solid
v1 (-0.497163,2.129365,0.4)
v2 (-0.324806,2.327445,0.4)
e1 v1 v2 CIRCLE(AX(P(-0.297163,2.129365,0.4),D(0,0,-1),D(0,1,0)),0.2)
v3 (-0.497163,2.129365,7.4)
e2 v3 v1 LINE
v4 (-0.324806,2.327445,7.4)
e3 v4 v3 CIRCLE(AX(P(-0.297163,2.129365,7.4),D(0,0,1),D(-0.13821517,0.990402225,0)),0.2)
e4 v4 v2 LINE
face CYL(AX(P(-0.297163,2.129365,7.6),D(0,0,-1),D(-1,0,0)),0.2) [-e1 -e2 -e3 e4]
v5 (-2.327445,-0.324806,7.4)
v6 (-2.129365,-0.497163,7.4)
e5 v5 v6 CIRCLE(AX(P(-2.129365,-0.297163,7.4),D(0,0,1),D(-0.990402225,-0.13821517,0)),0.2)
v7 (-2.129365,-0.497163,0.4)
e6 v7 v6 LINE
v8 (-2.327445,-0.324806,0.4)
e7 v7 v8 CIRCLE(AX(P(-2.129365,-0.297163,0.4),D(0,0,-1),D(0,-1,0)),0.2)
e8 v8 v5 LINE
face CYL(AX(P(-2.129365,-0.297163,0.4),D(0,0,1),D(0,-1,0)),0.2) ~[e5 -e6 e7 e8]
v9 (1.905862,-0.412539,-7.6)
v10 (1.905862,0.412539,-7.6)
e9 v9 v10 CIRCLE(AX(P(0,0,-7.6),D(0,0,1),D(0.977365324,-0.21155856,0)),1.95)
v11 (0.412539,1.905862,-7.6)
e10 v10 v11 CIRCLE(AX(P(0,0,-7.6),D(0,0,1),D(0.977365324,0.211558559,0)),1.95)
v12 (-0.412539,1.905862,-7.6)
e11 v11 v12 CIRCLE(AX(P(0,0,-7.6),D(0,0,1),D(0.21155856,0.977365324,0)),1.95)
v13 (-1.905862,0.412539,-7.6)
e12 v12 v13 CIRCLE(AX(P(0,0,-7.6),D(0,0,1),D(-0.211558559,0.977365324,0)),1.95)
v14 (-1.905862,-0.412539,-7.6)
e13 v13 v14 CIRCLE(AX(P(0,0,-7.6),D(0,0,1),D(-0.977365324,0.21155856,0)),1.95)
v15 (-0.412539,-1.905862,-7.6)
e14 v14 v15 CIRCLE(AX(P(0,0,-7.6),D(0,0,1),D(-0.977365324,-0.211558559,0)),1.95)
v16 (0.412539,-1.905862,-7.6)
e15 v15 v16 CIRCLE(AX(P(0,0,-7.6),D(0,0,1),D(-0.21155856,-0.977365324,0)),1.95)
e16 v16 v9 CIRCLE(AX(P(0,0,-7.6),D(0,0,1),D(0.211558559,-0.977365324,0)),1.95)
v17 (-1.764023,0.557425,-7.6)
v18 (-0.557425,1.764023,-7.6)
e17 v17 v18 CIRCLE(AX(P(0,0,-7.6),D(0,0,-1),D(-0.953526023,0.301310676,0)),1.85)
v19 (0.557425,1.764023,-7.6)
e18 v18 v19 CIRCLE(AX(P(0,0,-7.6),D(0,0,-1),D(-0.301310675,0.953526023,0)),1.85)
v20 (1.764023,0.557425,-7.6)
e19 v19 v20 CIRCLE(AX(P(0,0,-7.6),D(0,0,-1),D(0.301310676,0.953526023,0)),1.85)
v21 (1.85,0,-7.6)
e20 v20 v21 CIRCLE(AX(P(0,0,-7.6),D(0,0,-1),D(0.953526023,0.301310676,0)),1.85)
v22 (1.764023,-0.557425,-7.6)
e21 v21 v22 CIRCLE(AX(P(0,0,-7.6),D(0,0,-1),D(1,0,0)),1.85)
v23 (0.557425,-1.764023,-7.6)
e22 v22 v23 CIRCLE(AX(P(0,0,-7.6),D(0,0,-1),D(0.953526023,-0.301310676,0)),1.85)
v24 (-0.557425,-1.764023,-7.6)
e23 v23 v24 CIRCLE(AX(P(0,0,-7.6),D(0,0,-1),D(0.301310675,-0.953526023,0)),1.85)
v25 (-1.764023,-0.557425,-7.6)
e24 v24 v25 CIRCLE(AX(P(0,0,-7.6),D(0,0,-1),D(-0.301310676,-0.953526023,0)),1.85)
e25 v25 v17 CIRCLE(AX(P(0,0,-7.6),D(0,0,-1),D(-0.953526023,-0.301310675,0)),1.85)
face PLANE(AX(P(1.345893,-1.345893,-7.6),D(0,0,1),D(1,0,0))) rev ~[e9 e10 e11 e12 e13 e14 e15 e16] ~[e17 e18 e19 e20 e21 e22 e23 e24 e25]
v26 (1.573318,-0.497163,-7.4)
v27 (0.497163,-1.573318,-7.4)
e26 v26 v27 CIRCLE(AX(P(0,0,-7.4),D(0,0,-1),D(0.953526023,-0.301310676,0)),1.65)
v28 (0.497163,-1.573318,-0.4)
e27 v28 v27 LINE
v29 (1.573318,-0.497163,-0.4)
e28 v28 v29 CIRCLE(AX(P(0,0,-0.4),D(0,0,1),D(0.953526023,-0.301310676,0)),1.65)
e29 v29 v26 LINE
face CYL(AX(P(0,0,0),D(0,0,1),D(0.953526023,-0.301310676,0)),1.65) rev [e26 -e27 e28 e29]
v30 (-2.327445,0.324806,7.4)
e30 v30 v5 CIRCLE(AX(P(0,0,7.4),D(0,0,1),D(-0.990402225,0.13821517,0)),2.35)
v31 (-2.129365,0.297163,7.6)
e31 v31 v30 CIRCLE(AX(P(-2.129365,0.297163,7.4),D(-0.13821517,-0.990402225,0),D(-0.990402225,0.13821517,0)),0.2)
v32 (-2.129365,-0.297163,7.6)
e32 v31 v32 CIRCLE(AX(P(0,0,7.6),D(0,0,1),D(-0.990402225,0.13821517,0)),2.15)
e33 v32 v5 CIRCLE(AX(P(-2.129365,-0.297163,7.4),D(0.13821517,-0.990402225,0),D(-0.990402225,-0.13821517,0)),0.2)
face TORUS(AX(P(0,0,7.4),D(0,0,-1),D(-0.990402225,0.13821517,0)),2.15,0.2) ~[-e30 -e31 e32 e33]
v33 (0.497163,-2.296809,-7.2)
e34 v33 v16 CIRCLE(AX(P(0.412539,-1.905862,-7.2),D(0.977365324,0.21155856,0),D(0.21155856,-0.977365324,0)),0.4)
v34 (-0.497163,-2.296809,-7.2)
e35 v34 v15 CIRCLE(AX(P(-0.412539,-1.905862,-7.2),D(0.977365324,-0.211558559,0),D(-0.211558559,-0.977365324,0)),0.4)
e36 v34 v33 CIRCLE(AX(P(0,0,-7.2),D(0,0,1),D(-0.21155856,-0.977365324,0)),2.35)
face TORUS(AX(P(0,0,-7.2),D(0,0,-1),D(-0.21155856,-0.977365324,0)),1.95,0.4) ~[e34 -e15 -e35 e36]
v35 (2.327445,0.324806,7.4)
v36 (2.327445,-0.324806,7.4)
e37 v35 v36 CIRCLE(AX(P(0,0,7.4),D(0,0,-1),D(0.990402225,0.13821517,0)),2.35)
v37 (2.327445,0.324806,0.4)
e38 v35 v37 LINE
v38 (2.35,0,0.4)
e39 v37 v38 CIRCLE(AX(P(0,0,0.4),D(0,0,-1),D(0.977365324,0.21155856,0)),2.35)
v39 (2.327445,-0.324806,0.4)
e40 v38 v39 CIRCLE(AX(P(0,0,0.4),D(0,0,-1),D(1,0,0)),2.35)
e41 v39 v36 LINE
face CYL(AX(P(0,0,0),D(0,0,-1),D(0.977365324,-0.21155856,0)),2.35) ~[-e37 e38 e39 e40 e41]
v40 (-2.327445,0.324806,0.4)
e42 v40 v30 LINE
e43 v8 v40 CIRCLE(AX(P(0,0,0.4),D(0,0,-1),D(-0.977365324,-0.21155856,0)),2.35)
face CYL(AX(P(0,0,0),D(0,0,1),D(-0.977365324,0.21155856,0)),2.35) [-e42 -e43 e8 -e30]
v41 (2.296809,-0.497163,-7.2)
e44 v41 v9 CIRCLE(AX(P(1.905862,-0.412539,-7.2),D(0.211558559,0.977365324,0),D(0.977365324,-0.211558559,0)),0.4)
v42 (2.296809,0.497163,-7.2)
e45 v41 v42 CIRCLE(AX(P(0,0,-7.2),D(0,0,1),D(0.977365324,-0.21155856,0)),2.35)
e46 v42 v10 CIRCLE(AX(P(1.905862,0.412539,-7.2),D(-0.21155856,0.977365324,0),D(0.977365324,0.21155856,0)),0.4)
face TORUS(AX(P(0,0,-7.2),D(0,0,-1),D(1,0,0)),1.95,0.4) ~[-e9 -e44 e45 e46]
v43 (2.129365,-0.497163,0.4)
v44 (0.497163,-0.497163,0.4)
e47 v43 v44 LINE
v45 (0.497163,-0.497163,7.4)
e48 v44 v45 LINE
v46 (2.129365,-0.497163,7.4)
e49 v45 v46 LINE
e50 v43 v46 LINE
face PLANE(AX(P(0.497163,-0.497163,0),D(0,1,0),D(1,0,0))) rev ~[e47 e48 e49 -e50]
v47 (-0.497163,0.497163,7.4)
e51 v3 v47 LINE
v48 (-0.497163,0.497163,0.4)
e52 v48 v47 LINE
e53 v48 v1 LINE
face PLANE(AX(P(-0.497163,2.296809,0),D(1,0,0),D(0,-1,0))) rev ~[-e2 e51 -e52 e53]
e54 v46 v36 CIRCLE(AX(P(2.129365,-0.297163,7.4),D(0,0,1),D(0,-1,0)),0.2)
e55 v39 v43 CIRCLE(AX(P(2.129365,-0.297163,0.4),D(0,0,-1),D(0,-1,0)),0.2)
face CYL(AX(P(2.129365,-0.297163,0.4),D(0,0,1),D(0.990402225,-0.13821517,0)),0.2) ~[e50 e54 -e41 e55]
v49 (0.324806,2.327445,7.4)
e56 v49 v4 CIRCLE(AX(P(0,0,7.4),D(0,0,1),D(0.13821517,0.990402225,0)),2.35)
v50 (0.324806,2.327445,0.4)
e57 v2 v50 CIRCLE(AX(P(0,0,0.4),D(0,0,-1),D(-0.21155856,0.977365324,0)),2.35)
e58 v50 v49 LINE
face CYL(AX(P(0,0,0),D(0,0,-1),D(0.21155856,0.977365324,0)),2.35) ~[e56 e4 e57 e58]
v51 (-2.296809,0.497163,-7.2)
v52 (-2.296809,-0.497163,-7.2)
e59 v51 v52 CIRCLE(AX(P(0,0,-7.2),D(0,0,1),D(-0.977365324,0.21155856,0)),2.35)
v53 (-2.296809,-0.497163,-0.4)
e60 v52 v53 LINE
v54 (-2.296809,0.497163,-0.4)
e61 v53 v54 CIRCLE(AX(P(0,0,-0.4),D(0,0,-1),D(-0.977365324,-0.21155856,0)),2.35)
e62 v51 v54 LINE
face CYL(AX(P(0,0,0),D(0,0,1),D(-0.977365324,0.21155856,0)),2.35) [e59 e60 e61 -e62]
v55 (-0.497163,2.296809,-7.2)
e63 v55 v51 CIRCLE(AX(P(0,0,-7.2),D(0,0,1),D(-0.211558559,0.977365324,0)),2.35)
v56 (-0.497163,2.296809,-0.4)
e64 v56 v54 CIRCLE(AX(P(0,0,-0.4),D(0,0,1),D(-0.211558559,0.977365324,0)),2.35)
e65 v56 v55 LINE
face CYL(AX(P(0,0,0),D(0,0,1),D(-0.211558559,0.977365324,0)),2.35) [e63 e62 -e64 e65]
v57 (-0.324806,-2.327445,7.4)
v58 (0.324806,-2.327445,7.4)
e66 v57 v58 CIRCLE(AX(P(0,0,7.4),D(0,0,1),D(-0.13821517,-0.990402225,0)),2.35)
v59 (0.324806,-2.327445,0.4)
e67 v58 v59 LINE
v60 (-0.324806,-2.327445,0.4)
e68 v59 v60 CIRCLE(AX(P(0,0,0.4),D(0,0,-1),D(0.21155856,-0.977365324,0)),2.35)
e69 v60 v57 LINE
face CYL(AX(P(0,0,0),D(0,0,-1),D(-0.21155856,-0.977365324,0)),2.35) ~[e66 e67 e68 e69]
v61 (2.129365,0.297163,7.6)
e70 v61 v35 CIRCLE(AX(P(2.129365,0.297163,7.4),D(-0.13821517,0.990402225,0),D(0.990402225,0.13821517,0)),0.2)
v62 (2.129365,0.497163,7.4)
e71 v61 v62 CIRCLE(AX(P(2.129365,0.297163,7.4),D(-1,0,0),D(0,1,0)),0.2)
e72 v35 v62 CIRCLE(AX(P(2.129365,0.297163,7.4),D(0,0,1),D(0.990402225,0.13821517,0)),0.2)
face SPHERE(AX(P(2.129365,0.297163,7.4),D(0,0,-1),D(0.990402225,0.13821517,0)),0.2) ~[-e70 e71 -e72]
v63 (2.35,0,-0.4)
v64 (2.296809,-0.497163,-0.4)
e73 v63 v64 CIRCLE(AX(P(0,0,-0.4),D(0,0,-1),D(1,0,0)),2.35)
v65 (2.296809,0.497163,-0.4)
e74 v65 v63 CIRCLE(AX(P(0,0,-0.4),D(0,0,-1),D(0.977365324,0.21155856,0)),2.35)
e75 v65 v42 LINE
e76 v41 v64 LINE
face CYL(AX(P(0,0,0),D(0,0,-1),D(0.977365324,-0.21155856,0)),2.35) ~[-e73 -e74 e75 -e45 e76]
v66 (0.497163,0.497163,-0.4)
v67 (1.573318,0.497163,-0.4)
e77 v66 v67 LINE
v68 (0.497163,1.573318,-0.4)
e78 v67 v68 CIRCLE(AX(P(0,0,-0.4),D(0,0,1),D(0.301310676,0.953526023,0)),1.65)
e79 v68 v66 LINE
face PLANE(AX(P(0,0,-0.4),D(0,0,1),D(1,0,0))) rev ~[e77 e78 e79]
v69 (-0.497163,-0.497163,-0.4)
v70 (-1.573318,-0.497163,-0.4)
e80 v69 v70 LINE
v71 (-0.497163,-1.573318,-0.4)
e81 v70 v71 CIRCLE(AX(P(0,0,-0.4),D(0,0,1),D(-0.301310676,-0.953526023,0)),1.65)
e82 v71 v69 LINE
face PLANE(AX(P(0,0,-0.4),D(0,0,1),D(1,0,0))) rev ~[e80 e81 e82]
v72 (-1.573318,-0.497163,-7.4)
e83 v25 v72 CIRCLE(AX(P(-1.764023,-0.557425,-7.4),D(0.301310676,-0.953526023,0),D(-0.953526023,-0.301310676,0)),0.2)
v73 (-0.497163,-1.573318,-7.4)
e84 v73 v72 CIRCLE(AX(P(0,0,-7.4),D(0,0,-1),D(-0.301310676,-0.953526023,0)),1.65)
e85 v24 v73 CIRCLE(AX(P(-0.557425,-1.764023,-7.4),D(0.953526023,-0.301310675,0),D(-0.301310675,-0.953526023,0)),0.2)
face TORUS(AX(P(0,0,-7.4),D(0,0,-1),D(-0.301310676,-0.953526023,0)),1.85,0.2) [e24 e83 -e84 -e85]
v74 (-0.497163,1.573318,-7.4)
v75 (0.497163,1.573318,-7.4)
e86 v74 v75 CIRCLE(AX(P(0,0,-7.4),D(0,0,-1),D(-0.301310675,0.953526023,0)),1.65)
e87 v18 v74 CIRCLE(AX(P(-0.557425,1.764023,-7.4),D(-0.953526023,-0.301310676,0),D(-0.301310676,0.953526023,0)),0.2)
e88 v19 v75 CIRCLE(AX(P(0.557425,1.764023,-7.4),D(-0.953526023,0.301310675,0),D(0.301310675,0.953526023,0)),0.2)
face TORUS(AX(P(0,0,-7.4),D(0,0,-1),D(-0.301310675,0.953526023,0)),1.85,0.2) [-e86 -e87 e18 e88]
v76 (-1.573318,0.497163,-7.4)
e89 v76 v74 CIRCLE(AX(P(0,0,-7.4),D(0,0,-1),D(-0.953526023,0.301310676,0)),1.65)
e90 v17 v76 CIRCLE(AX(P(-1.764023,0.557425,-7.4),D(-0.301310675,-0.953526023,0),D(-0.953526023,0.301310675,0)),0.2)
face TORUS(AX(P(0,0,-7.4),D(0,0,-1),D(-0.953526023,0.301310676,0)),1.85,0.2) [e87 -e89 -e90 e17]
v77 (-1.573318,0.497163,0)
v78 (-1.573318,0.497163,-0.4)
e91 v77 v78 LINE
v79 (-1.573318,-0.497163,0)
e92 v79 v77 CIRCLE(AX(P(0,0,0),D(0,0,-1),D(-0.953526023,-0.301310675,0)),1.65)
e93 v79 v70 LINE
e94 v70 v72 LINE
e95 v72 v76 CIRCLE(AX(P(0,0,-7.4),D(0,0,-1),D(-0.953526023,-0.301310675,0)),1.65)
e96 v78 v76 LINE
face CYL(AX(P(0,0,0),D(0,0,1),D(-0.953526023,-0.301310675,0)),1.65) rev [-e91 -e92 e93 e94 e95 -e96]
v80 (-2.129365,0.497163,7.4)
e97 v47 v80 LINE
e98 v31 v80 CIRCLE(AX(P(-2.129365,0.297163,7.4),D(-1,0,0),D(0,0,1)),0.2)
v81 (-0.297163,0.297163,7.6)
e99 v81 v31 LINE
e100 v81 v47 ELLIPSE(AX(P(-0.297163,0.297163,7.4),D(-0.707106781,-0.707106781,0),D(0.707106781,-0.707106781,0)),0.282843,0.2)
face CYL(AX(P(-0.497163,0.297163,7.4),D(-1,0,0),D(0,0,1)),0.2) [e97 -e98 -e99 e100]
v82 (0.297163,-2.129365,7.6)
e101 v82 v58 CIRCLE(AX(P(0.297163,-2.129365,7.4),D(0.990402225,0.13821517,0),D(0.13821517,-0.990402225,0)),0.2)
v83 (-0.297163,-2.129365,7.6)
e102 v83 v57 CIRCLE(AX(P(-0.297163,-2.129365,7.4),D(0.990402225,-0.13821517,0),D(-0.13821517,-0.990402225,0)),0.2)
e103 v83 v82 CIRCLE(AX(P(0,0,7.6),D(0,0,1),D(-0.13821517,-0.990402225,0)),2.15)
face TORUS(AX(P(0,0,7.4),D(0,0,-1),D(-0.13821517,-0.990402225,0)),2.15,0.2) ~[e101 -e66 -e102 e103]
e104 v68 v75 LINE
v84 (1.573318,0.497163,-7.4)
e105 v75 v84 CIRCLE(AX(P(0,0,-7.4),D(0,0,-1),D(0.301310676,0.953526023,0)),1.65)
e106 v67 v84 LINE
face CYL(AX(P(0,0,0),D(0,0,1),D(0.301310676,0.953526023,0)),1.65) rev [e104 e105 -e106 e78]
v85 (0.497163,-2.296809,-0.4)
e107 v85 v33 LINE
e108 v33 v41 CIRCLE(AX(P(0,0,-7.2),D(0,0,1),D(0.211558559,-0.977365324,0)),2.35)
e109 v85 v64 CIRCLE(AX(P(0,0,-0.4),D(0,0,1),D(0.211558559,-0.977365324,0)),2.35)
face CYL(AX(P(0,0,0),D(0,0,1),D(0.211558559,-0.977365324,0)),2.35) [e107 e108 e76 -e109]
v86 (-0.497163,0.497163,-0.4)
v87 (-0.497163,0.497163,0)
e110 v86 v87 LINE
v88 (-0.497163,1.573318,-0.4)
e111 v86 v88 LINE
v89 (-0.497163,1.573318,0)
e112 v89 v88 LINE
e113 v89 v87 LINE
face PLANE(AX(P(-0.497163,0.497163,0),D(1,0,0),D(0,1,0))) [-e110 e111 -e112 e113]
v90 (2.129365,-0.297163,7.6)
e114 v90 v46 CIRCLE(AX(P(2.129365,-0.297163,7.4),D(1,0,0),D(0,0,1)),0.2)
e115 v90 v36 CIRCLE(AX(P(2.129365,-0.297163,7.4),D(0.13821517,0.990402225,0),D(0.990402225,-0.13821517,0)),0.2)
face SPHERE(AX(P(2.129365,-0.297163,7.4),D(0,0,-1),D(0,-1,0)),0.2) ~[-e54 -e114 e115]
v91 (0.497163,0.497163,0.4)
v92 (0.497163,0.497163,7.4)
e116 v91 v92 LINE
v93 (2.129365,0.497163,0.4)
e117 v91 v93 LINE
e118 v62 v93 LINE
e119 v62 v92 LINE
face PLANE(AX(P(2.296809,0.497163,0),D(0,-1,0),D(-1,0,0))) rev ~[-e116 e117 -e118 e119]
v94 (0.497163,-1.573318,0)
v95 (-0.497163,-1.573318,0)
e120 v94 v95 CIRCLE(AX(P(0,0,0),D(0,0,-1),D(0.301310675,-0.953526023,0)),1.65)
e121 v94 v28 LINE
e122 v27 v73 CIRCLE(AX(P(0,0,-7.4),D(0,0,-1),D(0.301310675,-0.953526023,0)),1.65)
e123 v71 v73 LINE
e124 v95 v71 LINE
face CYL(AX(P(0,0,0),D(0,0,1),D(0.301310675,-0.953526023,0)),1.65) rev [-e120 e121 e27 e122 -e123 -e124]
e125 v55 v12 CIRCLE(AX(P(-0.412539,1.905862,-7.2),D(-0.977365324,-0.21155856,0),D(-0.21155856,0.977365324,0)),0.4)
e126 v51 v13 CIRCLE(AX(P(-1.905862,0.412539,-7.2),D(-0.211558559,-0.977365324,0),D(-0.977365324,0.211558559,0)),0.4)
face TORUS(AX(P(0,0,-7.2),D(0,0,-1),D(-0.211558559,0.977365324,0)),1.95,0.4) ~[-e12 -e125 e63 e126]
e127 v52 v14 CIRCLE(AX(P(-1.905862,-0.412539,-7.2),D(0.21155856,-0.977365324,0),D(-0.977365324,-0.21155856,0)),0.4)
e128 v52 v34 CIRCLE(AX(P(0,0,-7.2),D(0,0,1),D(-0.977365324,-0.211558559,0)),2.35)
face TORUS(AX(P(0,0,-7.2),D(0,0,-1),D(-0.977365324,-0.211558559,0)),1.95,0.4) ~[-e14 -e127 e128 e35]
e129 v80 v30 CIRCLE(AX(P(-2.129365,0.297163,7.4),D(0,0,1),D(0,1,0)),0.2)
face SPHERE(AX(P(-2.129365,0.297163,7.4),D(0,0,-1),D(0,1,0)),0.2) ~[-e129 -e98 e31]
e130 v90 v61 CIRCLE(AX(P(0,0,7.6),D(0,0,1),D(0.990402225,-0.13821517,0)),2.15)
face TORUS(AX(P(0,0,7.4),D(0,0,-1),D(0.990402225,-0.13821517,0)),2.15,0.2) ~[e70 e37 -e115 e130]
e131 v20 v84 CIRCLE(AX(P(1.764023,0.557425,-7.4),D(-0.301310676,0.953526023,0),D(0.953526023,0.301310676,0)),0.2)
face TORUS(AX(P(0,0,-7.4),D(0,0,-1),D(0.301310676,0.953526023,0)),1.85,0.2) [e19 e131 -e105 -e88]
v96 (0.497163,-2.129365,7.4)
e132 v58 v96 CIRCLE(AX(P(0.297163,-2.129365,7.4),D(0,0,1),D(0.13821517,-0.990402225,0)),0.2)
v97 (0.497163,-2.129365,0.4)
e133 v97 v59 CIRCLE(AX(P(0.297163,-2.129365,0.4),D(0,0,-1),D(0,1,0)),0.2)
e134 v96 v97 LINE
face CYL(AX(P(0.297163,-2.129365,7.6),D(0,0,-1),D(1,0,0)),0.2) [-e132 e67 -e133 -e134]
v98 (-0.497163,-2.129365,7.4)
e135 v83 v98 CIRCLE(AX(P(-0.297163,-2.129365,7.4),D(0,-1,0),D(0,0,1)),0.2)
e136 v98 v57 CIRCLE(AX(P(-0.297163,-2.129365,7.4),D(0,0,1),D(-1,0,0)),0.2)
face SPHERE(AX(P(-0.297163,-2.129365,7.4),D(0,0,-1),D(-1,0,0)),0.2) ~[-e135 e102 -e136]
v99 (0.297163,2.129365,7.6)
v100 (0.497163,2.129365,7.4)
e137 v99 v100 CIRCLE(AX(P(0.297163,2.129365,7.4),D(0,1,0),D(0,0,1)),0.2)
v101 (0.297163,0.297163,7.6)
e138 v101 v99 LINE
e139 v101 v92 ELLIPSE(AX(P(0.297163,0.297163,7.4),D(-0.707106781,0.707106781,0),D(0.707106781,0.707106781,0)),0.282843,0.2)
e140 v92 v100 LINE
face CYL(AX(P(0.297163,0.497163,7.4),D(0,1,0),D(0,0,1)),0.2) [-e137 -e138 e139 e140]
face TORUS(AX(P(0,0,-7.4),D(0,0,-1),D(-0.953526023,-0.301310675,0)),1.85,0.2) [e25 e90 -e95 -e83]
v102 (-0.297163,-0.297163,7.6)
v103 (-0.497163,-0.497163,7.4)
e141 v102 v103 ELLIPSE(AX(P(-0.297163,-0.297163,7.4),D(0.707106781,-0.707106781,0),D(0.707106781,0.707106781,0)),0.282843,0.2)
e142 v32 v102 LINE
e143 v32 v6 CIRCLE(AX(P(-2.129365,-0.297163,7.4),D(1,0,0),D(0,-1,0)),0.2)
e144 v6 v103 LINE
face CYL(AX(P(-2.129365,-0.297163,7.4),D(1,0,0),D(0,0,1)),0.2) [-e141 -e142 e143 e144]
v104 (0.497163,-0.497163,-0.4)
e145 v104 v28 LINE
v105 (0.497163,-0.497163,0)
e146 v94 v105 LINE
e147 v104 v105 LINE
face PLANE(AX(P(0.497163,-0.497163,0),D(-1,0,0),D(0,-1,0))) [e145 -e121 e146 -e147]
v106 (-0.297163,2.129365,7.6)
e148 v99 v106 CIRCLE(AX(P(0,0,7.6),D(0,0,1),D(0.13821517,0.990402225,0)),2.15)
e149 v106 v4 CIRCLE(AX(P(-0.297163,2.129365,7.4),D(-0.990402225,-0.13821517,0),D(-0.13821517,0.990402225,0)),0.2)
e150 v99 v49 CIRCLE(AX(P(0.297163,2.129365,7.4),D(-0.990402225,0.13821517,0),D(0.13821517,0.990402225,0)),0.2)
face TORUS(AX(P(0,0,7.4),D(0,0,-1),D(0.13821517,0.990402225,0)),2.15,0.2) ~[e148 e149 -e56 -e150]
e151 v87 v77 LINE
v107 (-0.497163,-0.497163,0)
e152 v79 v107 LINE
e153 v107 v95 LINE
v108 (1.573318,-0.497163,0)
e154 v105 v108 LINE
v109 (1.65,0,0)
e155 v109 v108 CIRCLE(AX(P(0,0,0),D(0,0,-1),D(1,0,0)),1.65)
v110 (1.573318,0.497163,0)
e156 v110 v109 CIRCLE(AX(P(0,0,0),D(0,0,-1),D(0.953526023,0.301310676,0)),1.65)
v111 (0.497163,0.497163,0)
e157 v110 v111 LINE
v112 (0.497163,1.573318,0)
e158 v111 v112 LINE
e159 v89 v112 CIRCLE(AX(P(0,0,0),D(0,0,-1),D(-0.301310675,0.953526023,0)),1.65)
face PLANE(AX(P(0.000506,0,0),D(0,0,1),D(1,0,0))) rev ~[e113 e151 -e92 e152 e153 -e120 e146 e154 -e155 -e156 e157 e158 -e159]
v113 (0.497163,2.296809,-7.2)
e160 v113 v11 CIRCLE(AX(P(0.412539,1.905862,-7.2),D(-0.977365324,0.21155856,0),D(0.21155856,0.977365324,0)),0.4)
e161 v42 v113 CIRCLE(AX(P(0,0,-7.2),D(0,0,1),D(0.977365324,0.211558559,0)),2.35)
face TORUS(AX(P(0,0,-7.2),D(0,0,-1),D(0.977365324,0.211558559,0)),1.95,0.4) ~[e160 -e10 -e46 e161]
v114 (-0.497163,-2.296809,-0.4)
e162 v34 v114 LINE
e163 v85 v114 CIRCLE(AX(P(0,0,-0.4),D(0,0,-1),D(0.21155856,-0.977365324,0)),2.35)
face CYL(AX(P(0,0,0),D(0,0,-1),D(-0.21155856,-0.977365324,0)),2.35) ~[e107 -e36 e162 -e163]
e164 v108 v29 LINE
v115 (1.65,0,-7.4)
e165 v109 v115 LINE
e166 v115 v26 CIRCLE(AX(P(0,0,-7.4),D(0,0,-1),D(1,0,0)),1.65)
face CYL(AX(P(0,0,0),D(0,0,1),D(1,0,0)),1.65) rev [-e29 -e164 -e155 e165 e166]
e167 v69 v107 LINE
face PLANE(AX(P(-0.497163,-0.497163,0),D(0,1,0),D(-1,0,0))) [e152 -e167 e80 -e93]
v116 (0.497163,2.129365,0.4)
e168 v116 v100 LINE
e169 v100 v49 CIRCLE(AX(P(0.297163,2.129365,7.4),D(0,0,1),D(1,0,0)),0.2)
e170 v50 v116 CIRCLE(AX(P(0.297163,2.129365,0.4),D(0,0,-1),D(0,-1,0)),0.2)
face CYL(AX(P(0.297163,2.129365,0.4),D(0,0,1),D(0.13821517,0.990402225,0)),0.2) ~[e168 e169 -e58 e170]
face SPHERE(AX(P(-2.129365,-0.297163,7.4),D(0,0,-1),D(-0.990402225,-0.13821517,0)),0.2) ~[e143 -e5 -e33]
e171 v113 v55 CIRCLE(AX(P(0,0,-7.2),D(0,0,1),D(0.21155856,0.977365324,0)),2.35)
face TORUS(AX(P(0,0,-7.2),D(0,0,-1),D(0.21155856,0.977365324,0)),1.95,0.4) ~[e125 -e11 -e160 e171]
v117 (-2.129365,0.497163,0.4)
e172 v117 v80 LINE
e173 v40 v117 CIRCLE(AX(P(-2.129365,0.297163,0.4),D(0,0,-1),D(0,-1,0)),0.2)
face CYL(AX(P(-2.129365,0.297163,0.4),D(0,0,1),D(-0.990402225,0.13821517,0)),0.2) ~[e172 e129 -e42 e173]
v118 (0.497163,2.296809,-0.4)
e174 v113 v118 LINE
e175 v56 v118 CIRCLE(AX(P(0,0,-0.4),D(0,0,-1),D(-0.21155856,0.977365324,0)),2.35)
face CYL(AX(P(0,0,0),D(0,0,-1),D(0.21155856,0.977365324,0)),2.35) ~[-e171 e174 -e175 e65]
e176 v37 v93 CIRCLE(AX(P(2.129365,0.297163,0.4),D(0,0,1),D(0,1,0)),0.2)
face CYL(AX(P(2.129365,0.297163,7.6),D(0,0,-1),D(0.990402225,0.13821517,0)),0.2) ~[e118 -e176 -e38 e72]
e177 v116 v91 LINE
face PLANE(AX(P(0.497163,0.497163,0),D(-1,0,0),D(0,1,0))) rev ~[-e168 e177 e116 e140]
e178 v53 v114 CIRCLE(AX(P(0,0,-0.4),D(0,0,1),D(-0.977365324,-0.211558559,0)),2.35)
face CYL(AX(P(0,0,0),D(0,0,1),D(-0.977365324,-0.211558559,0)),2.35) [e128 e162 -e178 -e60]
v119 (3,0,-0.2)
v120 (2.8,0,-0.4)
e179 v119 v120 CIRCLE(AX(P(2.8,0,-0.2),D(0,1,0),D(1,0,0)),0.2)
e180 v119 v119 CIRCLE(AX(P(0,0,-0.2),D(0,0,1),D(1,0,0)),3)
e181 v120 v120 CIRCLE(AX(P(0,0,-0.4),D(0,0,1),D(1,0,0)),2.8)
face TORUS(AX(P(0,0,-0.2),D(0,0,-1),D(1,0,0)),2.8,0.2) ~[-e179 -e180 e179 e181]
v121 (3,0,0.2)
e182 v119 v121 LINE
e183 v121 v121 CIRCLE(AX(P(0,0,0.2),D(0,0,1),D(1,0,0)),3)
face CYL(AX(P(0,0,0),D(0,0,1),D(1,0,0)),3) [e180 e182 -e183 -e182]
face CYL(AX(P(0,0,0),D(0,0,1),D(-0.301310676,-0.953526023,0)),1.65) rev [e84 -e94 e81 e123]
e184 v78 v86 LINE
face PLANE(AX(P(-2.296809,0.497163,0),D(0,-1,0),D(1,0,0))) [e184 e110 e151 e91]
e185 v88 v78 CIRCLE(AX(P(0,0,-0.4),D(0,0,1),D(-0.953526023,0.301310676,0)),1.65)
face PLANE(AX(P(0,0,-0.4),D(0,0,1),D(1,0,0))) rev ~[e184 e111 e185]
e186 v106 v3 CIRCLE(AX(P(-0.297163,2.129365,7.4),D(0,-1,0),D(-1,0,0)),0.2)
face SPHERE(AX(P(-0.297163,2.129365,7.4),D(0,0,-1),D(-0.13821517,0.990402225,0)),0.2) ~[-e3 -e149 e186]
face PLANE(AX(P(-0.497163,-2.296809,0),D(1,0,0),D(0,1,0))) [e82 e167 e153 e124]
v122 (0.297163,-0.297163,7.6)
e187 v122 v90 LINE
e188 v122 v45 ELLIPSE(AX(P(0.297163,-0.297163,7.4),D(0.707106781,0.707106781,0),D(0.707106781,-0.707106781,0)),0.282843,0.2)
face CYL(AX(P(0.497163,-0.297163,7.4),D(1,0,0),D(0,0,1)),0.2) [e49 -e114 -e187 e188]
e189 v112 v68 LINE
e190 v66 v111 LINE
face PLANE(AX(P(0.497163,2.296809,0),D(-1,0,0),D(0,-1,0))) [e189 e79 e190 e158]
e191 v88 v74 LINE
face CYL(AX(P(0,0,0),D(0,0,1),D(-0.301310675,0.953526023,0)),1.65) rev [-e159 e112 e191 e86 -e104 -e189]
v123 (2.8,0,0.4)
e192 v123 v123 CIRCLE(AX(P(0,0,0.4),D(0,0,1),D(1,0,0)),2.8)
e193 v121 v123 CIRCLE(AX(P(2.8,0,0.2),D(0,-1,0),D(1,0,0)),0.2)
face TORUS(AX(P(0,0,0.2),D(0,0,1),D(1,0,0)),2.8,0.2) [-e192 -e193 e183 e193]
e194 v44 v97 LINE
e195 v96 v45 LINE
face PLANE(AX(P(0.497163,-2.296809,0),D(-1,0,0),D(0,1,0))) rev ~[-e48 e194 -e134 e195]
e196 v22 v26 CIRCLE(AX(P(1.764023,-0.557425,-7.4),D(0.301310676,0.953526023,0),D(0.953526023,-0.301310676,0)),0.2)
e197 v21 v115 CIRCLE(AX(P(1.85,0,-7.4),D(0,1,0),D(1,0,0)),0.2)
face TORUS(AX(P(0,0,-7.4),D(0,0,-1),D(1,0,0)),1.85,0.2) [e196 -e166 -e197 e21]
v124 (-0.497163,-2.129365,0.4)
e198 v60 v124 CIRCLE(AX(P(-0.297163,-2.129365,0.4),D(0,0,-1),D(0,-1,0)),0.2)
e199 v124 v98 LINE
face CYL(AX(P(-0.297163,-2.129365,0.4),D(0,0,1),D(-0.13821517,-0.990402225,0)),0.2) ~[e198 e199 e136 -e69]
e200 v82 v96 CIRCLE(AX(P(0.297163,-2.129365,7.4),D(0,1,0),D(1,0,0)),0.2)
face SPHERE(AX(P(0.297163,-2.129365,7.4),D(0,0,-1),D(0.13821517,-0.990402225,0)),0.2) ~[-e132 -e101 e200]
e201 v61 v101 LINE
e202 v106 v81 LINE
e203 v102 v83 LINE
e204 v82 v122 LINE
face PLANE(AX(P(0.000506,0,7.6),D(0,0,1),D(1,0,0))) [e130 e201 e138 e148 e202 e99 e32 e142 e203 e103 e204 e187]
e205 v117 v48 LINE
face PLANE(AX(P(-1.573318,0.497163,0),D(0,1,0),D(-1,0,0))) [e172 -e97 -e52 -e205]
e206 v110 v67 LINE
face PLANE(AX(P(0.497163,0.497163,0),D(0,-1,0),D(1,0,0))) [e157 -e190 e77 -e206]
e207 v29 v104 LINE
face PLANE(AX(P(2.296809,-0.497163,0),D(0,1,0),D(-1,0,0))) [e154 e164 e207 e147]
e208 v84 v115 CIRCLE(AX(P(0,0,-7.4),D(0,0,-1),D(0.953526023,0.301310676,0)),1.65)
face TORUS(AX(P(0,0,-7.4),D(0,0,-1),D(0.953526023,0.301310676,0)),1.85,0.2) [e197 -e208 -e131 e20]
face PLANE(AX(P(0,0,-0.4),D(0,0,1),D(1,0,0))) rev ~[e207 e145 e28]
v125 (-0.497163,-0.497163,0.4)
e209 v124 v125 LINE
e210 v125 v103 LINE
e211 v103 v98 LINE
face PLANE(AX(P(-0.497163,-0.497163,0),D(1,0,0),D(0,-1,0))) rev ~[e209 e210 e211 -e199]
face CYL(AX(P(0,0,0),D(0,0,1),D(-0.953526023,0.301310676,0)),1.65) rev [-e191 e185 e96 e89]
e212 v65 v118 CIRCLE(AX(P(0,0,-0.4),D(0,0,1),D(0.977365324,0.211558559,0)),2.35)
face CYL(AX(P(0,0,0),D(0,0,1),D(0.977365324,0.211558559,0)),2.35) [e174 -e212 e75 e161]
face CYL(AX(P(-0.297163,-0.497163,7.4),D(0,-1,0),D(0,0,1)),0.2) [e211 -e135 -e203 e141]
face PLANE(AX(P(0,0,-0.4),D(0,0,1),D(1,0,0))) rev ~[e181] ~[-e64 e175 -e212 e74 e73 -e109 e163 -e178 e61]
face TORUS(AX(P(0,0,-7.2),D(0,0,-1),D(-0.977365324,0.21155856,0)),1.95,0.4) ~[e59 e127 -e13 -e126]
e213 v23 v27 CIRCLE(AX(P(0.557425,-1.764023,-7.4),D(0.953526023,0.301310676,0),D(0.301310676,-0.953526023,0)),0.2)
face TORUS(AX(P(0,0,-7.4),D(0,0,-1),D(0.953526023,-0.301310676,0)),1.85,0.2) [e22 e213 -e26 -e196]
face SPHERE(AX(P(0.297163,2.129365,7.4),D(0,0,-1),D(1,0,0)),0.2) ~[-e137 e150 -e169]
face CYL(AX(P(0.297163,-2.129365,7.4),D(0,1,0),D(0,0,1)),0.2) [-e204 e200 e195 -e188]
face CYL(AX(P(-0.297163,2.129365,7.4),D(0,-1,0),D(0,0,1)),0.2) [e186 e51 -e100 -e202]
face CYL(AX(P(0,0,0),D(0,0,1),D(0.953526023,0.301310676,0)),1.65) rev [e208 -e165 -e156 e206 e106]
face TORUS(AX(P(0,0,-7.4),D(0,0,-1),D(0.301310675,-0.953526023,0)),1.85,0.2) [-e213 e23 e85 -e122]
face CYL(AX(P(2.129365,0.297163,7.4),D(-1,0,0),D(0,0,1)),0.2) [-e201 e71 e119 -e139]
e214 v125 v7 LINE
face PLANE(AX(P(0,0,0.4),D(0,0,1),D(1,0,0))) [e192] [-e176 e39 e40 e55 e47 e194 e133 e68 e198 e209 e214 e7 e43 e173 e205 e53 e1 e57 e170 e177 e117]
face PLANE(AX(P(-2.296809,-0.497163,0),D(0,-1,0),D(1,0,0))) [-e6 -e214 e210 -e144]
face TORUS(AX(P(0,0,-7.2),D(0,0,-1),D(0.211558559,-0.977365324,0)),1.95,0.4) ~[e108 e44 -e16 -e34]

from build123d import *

# Parameters (mm, degrees)
F1_DEPTH = 7.6
F2_DEPTH = 7.6
F3_DEPTH = 7.6
F0_R     = 3
F4_DEPTH = 0.4
F5_R     = 0.2
F6_R     = 0.4
F7_R     = 0.2


with BuildPart() as f1:
    # F0 (on Top) → F1 (new body)
    with BuildSketch(Plane.XY):
        with BuildLine():
            ThreePointArc((1.65, 0), (1.6307168053, 0.2515207765), (1.5733179382, 0.4971626147))
            Line((1.5733179382, 0.4971626147), (0.4971626147, 0.4971626147))
            Line((0.4971626147, 0.4971626147), (0.4971626147, 1.5733179382))
            ThreePointArc((0.4971626147, 1.5733179382), (0, 1.65), (-0.4971626147, 1.5733179382))
            Line((-0.4971626147, 1.5733179382), (-0.4971626147, 0.4971626147))
            Line((-0.4971626147, 0.4971626147), (-1.5733179382, 0.4971626147))
            ThreePointArc((-1.5733179382, 0.4971626147), (-1.65, 0), (-1.5733179382, -0.4971626147))
            Line((-1.5733179382, -0.4971626147), (-0.4971626147, -0.4971626147))
            Line((-0.4971626147, -0.4971626147), (-0.4971626147, -1.5733179382))
            ThreePointArc((-0.4971626147, -1.5733179382), (0, -1.65), (0.4971626147, -1.5733179382))
            Line((0.4971626147, -1.5733179382), (0.4971626147, -0.4971626147))
            Line((0.4971626147, -0.4971626147), (1.5733179382, -0.4971626147))
            ThreePointArc((1.5733179382, -0.4971626147), (1.6307168053, -0.2515207765), (1.65, 0))
        make_face()
        with BuildLine():
            Line((-1.5733179382, 0.4971626147), (-2.2968085106, 0.4971626147))
            ThreePointArc((-2.2968085106, 0.4971626147), (-2.35, 0), (-2.2968085106, -0.4971626147))
            Line((-2.2968085106, -0.4971626147), (-1.5733179382, -0.4971626147))
            ThreePointArc((-1.5733179382, -0.4971626147), (-1.65, 0), (-1.5733179382, 0.4971626147))
        make_face()
        with BuildLine():
            ThreePointArc((-0.4971626147, -2.2968085106), (0, -2.35), (0.4971626147, -2.2968085106))
            Line((0.4971626147, -2.2968085106), (0.4971626147, -1.5733179382))
            ThreePointArc((0.4971626147, -1.5733179382), (0, -1.65), (-0.4971626147, -1.5733179382))
            Line((-0.4971626147, -1.5733179382), (-0.4971626147, -2.2968085106))
        make_face()
        with BuildLine():
            ThreePointArc((2.2968085106, -0.4971626147), (2.3366642891, -0.25), (2.35, 0))
            ThreePointArc((2.35, 0), (2.3366642891, 0.25), (2.2968085106, 0.4971626147))
            Line((2.2968085106, 0.4971626147), (1.5733179382, 0.4971626147))
            ThreePointArc((1.5733179382, 0.4971626147), (1.6307168053, 0.2515207765), (1.65, 0))
            ThreePointArc((1.65, 0), (1.6307168053, -0.2515207765), (1.5733179382, -0.4971626147))
            Line((1.5733179382, -0.4971626147), (2.2968085106, -0.4971626147))
        make_face()
        with BuildLine():
            Line((0.4971626147, 1.5733179382), (0.4971626147, 2.2968085106))
            ThreePointArc((0.4971626147, 2.2968085106), (0, 2.35), (-0.4971626147, 2.2968085106))
            Line((-0.4971626147, 2.2968085106), (-0.4971626147, 1.5733179382))
            ThreePointArc((-0.4971626147, 1.5733179382), (0, 1.65), (0.4971626147, 1.5733179382))
        make_face()
    extrude(amount=F1_DEPTH)

    # F0 (on Top) → F2 (join)
    with BuildSketch(Plane.XY):
        with BuildLine():
            Line((-1.5733179382, 0.4971626147), (-2.2968085106, 0.4971626147))
            ThreePointArc((-2.2968085106, 0.4971626147), (-2.35, 0), (-2.2968085106, -0.4971626147))
            Line((-2.2968085106, -0.4971626147), (-1.5733179382, -0.4971626147))
            ThreePointArc((-1.5733179382, -0.4971626147), (-1.65, 0), (-1.5733179382, 0.4971626147))
        make_face()
        with BuildLine():
            ThreePointArc((2.2968085106, -0.4971626147), (2.3366642891, -0.25), (2.35, 0))
            ThreePointArc((2.35, 0), (2.3366642891, 0.25), (2.2968085106, 0.4971626147))
            Line((2.2968085106, 0.4971626147), (1.5733179382, 0.4971626147))
            ThreePointArc((1.5733179382, 0.4971626147), (1.6307168053, 0.2515207765), (1.65, 0))
            ThreePointArc((1.65, 0), (1.6307168053, -0.2515207765), (1.5733179382, -0.4971626147))
            Line((1.5733179382, -0.4971626147), (2.2968085106, -0.4971626147))
        make_face()
        with BuildLine():
            ThreePointArc((-0.4971626147, -2.2968085106), (0, -2.35), (0.4971626147, -2.2968085106))
            Line((0.4971626147, -2.2968085106), (0.4971626147, -1.5733179382))
            ThreePointArc((0.4971626147, -1.5733179382), (0, -1.65), (-0.4971626147, -1.5733179382))
            Line((-0.4971626147, -1.5733179382), (-0.4971626147, -2.2968085106))
        make_face()
        with BuildLine():
            Line((0.4971626147, 1.5733179382), (0.4971626147, 2.2968085106))
            ThreePointArc((0.4971626147, 2.2968085106), (0, 2.35), (-0.4971626147, 2.2968085106))
            Line((-0.4971626147, 2.2968085106), (-0.4971626147, 1.5733179382))
            ThreePointArc((-0.4971626147, 1.5733179382), (0, 1.65), (0.4971626147, 1.5733179382))
        make_face()
    extrude(amount=-F2_DEPTH)

    # F0 (on Top) → F3 (join)
    with BuildSketch(Plane.XY):
        with BuildLine():
            ThreePointArc((0.4971626147, -2.2968085106), (1.6617009358, -1.6617009358), (2.2968085106, -0.4971626147))
            Line((2.2968085106, -0.4971626147), (1.5733179382, -0.4971626147))
            ThreePointArc((1.5733179382, -0.4971626147), (1.166726189, -1.166726189), (0.4971626147, -1.5733179382))
            Line((0.4971626147, -1.5733179382), (0.4971626147, -2.2968085106))
        make_face()
        with BuildLine():
            Line((1.5733179382, 0.4971626147), (2.2968085106, 0.4971626147))
            ThreePointArc((2.2968085106, 0.4971626147), (1.6617009358, 1.6617009358), (0.4971626147, 2.2968085106))
            Line((0.4971626147, 2.2968085106), (0.4971626147, 1.5733179382))
            ThreePointArc((0.4971626147, 1.5733179382), (1.166726189, 1.166726189), (1.5733179382, 0.4971626147))
        make_face()
        with BuildLine():
            Line((-0.4971626147, 1.5733179382), (-0.4971626147, 2.2968085106))
            ThreePointArc((-0.4971626147, 2.2968085106), (-1.6617009358, 1.6617009358), (-2.2968085106, 0.4971626147))
            Line((-2.2968085106, 0.4971626147), (-1.5733179382, 0.4971626147))
            ThreePointArc((-1.5733179382, 0.4971626147), (-1.166726189, 1.166726189), (-0.4971626147, 1.5733179382))
        make_face()
        with BuildLine():
            ThreePointArc((-2.2968085106, -0.4971626147), (-1.6617009358, -1.6617009358), (-0.4971626147, -2.2968085106))
            Line((-0.4971626147, -2.2968085106), (-0.4971626147, -1.5733179382))
            ThreePointArc((-0.4971626147, -1.5733179382), (-1.166726189, -1.166726189), (-1.5733179382, -0.4971626147))
            Line((-1.5733179382, -0.4971626147), (-2.2968085106, -0.4971626147))
        make_face()
    extrude(amount=-F3_DEPTH)

    # F0 (on Top) → F4 (join, symmetric)
    with BuildSketch(Plane.XY):
        Circle(F0_R)
        with BuildLine():
            ThreePointArc((2.2968085106, 0.4971626147), (2.3366642891, 0.25), (2.35, 0))
            ThreePointArc((2.35, 0), (2.3366642891, -0.25), (2.2968085106, -0.4971626147))
            ThreePointArc((2.2968085106, -0.4971626147), (1.6617009358, -1.6617009358), (0.4971626147, -2.2968085106))
            ThreePointArc((0.4971626147, -2.2968085106), (0, -2.35), (-0.4971626147, -2.2968085106))
            ThreePointArc((-0.4971626147, -2.2968085106), (-1.6617009358, -1.6617009358), (-2.2968085106, -0.4971626147))
            ThreePointArc((-2.2968085106, -0.4971626147), (-2.35, 0), (-2.2968085106, 0.4971626147))
            ThreePointArc((-2.2968085106, 0.4971626147), (-1.6617009358, 1.6617009358), (-0.4971626147, 2.2968085106))
            ThreePointArc((-0.4971626147, 2.2968085106), (0, 2.35), (0.4971626147, 2.2968085106))
            ThreePointArc((0.4971626147, 2.2968085106), (1.6617009358, 1.6617009358), (2.2968085106, 0.4971626147))
        make_face(mode=Mode.SUBTRACT)
        with BuildLine():
            ThreePointArc((-1.5733179382, -0.4971626147), (-1.166726189, -1.166726189), (-0.4971626147, -1.5733179382))
            Line((-0.4971626147, -1.5733179382), (-0.4971626147, -0.4971626147))
            Line((-0.4971626147, -0.4971626147), (-1.5733179382, -0.4971626147))
        make_face()
        with BuildLine():
            ThreePointArc((-2.2968085106, -0.4971626147), (-1.6617009358, -1.6617009358), (-0.4971626147, -2.2968085106))
            Line((-0.4971626147, -2.2968085106), (-0.4971626147, -1.5733179382))
            ThreePointArc((-0.4971626147, -1.5733179382), (-1.166726189, -1.166726189), (-1.5733179382, -0.4971626147))
            Line((-1.5733179382, -0.4971626147), (-2.2968085106, -0.4971626147))
        make_face()
        with BuildLine():
            ThreePointArc((0.4971626147, -1.5733179382), (1.166726189, -1.166726189), (1.5733179382, -0.4971626147))
            Line((1.5733179382, -0.4971626147), (0.4971626147, -0.4971626147))
            Line((0.4971626147, -0.4971626147), (0.4971626147, -1.5733179382))
        make_face()
        with BuildLine():
            ThreePointArc((0.4971626147, -2.2968085106), (1.6617009358, -1.6617009358), (2.2968085106, -0.4971626147))
            Line((2.2968085106, -0.4971626147), (1.5733179382, -0.4971626147))
            ThreePointArc((1.5733179382, -0.4971626147), (1.166726189, -1.166726189), (0.4971626147, -1.5733179382))
            Line((0.4971626147, -1.5733179382), (0.4971626147, -2.2968085106))
        make_face()
        with BuildLine():
            Line((0.4971626147, 0.4971626147), (1.5733179382, 0.4971626147))
            ThreePointArc((1.5733179382, 0.4971626147), (1.166726189, 1.166726189), (0.4971626147, 1.5733179382))
            Line((0.4971626147, 1.5733179382), (0.4971626147, 0.4971626147))
        make_face()
        with BuildLine():
            Line((1.5733179382, 0.4971626147), (2.2968085106, 0.4971626147))
            ThreePointArc((2.2968085106, 0.4971626147), (1.6617009358, 1.6617009358), (0.4971626147, 2.2968085106))
            Line((0.4971626147, 2.2968085106), (0.4971626147, 1.5733179382))
            ThreePointArc((0.4971626147, 1.5733179382), (1.166726189, 1.166726189), (1.5733179382, 0.4971626147))
        make_face()
        with BuildLine():
            Line((-0.4971626147, 0.4971626147), (-0.4971626147, 1.5733179382))
            ThreePointArc((-0.4971626147, 1.5733179382), (-1.166726189, 1.166726189), (-1.5733179382, 0.4971626147))
            Line((-1.5733179382, 0.4971626147), (-0.4971626147, 0.4971626147))
        make_face()
        with BuildLine():
            Line((-0.4971626147, 1.5733179382), (-0.4971626147, 2.2968085106))
            ThreePointArc((-0.4971626147, 2.2968085106), (-1.6617009358, 1.6617009358), (-2.2968085106, 0.4971626147))
            Line((-2.2968085106, 0.4971626147), (-1.5733179382, 0.4971626147))
            ThreePointArc((-1.5733179382, 0.4971626147), (-1.166726189, 1.166726189), (-0.4971626147, 1.5733179382))
        make_face()
    extrude(amount=F4_DEPTH, both=True)

    # F5
    f5_edges = [f1.edges().sort_by_distance(p)[0] for p in [
        (-0.497163, -2.296809, 4),
        (-0.497163, -2.296809, -4),
        (0.497163, -2.296809, 4),
        (0.497163, -2.296809, -4),
        (-2.296809, -0.497163, 4),
        (-2.296809, -0.497163, -4),
        (-2.296809, 0.497163, 4),
        (-2.296809, 0.497163, -4),
        (-0.497163, 2.296809, -4),
        (-0.497163, 2.296809, 4),
        (2.296809, -0.497163, 4),
        (2.296809, -0.497163, -4),
        (2.296809, 0.497163, 4),
        (2.296809, 0.497163, -4),
        (0.497163, 2.296809, 4),
        (0.497163, 2.296809, -4),
        (-3, 0, 0.4),
        (-3, 0, -0.4),
        (1.573318, -0.497163, -7.6),
    ]]
    fillet(f5_edges, radius=F5_R)

    # F6
    f6_edges = [f1.edges().sort_by_distance(p)[0] for p in [
        (0, 2.35, -7.6),
        (-2.35, 0, -7.6),
        (0, -2.35, -7.6),
        (2.35, 0, -7.6),
        (1.661701, 1.661701, -7.6),
        (-1.661701, 1.661701, -7.6),
        (-1.661701, -1.661701, -7.6),
        (1.661701, -1.661701, -7.6),
    ]]
    fillet(f6_edges, radius=F6_R)

    # F7
    f7_edges = [f1.edges().sort_by_distance(p)[0] for p in [
        (0.497163, 1.313264, 7.6),
        (0.448041, 2.26065, 7.6),
        (1.313264, 0.497163, 7.6),
        (0, 2.35, 7.6),
        (2.26065, 0.448041, 7.6),
        (-0.448041, 2.26065, 7.6),
        (2.35, 0, 7.6),
        (-0.497163, 1.313264, 7.6),
        (2.26065, -0.448041, 7.6),
        (-1.313264, 0.497163, 7.6),
        (1.313264, -0.497163, 7.6),
        (-2.26065, 0.448041, 7.6),
        (0.497163, -1.313264, 7.6),
        (-2.35, 0, 7.6),
        (0.448041, -2.26065, 7.6),
        (-2.26065, -0.448041, 7.6),
        (0, -2.35, 7.6),
        (-1.313264, -0.497163, 7.6),
        (-0.448041, -2.26065, 7.6),
        (-0.497163, -1.313264, 7.6),
    ]]
    fillet(f7_edges, radius=F7_R)


solid = f1.part
